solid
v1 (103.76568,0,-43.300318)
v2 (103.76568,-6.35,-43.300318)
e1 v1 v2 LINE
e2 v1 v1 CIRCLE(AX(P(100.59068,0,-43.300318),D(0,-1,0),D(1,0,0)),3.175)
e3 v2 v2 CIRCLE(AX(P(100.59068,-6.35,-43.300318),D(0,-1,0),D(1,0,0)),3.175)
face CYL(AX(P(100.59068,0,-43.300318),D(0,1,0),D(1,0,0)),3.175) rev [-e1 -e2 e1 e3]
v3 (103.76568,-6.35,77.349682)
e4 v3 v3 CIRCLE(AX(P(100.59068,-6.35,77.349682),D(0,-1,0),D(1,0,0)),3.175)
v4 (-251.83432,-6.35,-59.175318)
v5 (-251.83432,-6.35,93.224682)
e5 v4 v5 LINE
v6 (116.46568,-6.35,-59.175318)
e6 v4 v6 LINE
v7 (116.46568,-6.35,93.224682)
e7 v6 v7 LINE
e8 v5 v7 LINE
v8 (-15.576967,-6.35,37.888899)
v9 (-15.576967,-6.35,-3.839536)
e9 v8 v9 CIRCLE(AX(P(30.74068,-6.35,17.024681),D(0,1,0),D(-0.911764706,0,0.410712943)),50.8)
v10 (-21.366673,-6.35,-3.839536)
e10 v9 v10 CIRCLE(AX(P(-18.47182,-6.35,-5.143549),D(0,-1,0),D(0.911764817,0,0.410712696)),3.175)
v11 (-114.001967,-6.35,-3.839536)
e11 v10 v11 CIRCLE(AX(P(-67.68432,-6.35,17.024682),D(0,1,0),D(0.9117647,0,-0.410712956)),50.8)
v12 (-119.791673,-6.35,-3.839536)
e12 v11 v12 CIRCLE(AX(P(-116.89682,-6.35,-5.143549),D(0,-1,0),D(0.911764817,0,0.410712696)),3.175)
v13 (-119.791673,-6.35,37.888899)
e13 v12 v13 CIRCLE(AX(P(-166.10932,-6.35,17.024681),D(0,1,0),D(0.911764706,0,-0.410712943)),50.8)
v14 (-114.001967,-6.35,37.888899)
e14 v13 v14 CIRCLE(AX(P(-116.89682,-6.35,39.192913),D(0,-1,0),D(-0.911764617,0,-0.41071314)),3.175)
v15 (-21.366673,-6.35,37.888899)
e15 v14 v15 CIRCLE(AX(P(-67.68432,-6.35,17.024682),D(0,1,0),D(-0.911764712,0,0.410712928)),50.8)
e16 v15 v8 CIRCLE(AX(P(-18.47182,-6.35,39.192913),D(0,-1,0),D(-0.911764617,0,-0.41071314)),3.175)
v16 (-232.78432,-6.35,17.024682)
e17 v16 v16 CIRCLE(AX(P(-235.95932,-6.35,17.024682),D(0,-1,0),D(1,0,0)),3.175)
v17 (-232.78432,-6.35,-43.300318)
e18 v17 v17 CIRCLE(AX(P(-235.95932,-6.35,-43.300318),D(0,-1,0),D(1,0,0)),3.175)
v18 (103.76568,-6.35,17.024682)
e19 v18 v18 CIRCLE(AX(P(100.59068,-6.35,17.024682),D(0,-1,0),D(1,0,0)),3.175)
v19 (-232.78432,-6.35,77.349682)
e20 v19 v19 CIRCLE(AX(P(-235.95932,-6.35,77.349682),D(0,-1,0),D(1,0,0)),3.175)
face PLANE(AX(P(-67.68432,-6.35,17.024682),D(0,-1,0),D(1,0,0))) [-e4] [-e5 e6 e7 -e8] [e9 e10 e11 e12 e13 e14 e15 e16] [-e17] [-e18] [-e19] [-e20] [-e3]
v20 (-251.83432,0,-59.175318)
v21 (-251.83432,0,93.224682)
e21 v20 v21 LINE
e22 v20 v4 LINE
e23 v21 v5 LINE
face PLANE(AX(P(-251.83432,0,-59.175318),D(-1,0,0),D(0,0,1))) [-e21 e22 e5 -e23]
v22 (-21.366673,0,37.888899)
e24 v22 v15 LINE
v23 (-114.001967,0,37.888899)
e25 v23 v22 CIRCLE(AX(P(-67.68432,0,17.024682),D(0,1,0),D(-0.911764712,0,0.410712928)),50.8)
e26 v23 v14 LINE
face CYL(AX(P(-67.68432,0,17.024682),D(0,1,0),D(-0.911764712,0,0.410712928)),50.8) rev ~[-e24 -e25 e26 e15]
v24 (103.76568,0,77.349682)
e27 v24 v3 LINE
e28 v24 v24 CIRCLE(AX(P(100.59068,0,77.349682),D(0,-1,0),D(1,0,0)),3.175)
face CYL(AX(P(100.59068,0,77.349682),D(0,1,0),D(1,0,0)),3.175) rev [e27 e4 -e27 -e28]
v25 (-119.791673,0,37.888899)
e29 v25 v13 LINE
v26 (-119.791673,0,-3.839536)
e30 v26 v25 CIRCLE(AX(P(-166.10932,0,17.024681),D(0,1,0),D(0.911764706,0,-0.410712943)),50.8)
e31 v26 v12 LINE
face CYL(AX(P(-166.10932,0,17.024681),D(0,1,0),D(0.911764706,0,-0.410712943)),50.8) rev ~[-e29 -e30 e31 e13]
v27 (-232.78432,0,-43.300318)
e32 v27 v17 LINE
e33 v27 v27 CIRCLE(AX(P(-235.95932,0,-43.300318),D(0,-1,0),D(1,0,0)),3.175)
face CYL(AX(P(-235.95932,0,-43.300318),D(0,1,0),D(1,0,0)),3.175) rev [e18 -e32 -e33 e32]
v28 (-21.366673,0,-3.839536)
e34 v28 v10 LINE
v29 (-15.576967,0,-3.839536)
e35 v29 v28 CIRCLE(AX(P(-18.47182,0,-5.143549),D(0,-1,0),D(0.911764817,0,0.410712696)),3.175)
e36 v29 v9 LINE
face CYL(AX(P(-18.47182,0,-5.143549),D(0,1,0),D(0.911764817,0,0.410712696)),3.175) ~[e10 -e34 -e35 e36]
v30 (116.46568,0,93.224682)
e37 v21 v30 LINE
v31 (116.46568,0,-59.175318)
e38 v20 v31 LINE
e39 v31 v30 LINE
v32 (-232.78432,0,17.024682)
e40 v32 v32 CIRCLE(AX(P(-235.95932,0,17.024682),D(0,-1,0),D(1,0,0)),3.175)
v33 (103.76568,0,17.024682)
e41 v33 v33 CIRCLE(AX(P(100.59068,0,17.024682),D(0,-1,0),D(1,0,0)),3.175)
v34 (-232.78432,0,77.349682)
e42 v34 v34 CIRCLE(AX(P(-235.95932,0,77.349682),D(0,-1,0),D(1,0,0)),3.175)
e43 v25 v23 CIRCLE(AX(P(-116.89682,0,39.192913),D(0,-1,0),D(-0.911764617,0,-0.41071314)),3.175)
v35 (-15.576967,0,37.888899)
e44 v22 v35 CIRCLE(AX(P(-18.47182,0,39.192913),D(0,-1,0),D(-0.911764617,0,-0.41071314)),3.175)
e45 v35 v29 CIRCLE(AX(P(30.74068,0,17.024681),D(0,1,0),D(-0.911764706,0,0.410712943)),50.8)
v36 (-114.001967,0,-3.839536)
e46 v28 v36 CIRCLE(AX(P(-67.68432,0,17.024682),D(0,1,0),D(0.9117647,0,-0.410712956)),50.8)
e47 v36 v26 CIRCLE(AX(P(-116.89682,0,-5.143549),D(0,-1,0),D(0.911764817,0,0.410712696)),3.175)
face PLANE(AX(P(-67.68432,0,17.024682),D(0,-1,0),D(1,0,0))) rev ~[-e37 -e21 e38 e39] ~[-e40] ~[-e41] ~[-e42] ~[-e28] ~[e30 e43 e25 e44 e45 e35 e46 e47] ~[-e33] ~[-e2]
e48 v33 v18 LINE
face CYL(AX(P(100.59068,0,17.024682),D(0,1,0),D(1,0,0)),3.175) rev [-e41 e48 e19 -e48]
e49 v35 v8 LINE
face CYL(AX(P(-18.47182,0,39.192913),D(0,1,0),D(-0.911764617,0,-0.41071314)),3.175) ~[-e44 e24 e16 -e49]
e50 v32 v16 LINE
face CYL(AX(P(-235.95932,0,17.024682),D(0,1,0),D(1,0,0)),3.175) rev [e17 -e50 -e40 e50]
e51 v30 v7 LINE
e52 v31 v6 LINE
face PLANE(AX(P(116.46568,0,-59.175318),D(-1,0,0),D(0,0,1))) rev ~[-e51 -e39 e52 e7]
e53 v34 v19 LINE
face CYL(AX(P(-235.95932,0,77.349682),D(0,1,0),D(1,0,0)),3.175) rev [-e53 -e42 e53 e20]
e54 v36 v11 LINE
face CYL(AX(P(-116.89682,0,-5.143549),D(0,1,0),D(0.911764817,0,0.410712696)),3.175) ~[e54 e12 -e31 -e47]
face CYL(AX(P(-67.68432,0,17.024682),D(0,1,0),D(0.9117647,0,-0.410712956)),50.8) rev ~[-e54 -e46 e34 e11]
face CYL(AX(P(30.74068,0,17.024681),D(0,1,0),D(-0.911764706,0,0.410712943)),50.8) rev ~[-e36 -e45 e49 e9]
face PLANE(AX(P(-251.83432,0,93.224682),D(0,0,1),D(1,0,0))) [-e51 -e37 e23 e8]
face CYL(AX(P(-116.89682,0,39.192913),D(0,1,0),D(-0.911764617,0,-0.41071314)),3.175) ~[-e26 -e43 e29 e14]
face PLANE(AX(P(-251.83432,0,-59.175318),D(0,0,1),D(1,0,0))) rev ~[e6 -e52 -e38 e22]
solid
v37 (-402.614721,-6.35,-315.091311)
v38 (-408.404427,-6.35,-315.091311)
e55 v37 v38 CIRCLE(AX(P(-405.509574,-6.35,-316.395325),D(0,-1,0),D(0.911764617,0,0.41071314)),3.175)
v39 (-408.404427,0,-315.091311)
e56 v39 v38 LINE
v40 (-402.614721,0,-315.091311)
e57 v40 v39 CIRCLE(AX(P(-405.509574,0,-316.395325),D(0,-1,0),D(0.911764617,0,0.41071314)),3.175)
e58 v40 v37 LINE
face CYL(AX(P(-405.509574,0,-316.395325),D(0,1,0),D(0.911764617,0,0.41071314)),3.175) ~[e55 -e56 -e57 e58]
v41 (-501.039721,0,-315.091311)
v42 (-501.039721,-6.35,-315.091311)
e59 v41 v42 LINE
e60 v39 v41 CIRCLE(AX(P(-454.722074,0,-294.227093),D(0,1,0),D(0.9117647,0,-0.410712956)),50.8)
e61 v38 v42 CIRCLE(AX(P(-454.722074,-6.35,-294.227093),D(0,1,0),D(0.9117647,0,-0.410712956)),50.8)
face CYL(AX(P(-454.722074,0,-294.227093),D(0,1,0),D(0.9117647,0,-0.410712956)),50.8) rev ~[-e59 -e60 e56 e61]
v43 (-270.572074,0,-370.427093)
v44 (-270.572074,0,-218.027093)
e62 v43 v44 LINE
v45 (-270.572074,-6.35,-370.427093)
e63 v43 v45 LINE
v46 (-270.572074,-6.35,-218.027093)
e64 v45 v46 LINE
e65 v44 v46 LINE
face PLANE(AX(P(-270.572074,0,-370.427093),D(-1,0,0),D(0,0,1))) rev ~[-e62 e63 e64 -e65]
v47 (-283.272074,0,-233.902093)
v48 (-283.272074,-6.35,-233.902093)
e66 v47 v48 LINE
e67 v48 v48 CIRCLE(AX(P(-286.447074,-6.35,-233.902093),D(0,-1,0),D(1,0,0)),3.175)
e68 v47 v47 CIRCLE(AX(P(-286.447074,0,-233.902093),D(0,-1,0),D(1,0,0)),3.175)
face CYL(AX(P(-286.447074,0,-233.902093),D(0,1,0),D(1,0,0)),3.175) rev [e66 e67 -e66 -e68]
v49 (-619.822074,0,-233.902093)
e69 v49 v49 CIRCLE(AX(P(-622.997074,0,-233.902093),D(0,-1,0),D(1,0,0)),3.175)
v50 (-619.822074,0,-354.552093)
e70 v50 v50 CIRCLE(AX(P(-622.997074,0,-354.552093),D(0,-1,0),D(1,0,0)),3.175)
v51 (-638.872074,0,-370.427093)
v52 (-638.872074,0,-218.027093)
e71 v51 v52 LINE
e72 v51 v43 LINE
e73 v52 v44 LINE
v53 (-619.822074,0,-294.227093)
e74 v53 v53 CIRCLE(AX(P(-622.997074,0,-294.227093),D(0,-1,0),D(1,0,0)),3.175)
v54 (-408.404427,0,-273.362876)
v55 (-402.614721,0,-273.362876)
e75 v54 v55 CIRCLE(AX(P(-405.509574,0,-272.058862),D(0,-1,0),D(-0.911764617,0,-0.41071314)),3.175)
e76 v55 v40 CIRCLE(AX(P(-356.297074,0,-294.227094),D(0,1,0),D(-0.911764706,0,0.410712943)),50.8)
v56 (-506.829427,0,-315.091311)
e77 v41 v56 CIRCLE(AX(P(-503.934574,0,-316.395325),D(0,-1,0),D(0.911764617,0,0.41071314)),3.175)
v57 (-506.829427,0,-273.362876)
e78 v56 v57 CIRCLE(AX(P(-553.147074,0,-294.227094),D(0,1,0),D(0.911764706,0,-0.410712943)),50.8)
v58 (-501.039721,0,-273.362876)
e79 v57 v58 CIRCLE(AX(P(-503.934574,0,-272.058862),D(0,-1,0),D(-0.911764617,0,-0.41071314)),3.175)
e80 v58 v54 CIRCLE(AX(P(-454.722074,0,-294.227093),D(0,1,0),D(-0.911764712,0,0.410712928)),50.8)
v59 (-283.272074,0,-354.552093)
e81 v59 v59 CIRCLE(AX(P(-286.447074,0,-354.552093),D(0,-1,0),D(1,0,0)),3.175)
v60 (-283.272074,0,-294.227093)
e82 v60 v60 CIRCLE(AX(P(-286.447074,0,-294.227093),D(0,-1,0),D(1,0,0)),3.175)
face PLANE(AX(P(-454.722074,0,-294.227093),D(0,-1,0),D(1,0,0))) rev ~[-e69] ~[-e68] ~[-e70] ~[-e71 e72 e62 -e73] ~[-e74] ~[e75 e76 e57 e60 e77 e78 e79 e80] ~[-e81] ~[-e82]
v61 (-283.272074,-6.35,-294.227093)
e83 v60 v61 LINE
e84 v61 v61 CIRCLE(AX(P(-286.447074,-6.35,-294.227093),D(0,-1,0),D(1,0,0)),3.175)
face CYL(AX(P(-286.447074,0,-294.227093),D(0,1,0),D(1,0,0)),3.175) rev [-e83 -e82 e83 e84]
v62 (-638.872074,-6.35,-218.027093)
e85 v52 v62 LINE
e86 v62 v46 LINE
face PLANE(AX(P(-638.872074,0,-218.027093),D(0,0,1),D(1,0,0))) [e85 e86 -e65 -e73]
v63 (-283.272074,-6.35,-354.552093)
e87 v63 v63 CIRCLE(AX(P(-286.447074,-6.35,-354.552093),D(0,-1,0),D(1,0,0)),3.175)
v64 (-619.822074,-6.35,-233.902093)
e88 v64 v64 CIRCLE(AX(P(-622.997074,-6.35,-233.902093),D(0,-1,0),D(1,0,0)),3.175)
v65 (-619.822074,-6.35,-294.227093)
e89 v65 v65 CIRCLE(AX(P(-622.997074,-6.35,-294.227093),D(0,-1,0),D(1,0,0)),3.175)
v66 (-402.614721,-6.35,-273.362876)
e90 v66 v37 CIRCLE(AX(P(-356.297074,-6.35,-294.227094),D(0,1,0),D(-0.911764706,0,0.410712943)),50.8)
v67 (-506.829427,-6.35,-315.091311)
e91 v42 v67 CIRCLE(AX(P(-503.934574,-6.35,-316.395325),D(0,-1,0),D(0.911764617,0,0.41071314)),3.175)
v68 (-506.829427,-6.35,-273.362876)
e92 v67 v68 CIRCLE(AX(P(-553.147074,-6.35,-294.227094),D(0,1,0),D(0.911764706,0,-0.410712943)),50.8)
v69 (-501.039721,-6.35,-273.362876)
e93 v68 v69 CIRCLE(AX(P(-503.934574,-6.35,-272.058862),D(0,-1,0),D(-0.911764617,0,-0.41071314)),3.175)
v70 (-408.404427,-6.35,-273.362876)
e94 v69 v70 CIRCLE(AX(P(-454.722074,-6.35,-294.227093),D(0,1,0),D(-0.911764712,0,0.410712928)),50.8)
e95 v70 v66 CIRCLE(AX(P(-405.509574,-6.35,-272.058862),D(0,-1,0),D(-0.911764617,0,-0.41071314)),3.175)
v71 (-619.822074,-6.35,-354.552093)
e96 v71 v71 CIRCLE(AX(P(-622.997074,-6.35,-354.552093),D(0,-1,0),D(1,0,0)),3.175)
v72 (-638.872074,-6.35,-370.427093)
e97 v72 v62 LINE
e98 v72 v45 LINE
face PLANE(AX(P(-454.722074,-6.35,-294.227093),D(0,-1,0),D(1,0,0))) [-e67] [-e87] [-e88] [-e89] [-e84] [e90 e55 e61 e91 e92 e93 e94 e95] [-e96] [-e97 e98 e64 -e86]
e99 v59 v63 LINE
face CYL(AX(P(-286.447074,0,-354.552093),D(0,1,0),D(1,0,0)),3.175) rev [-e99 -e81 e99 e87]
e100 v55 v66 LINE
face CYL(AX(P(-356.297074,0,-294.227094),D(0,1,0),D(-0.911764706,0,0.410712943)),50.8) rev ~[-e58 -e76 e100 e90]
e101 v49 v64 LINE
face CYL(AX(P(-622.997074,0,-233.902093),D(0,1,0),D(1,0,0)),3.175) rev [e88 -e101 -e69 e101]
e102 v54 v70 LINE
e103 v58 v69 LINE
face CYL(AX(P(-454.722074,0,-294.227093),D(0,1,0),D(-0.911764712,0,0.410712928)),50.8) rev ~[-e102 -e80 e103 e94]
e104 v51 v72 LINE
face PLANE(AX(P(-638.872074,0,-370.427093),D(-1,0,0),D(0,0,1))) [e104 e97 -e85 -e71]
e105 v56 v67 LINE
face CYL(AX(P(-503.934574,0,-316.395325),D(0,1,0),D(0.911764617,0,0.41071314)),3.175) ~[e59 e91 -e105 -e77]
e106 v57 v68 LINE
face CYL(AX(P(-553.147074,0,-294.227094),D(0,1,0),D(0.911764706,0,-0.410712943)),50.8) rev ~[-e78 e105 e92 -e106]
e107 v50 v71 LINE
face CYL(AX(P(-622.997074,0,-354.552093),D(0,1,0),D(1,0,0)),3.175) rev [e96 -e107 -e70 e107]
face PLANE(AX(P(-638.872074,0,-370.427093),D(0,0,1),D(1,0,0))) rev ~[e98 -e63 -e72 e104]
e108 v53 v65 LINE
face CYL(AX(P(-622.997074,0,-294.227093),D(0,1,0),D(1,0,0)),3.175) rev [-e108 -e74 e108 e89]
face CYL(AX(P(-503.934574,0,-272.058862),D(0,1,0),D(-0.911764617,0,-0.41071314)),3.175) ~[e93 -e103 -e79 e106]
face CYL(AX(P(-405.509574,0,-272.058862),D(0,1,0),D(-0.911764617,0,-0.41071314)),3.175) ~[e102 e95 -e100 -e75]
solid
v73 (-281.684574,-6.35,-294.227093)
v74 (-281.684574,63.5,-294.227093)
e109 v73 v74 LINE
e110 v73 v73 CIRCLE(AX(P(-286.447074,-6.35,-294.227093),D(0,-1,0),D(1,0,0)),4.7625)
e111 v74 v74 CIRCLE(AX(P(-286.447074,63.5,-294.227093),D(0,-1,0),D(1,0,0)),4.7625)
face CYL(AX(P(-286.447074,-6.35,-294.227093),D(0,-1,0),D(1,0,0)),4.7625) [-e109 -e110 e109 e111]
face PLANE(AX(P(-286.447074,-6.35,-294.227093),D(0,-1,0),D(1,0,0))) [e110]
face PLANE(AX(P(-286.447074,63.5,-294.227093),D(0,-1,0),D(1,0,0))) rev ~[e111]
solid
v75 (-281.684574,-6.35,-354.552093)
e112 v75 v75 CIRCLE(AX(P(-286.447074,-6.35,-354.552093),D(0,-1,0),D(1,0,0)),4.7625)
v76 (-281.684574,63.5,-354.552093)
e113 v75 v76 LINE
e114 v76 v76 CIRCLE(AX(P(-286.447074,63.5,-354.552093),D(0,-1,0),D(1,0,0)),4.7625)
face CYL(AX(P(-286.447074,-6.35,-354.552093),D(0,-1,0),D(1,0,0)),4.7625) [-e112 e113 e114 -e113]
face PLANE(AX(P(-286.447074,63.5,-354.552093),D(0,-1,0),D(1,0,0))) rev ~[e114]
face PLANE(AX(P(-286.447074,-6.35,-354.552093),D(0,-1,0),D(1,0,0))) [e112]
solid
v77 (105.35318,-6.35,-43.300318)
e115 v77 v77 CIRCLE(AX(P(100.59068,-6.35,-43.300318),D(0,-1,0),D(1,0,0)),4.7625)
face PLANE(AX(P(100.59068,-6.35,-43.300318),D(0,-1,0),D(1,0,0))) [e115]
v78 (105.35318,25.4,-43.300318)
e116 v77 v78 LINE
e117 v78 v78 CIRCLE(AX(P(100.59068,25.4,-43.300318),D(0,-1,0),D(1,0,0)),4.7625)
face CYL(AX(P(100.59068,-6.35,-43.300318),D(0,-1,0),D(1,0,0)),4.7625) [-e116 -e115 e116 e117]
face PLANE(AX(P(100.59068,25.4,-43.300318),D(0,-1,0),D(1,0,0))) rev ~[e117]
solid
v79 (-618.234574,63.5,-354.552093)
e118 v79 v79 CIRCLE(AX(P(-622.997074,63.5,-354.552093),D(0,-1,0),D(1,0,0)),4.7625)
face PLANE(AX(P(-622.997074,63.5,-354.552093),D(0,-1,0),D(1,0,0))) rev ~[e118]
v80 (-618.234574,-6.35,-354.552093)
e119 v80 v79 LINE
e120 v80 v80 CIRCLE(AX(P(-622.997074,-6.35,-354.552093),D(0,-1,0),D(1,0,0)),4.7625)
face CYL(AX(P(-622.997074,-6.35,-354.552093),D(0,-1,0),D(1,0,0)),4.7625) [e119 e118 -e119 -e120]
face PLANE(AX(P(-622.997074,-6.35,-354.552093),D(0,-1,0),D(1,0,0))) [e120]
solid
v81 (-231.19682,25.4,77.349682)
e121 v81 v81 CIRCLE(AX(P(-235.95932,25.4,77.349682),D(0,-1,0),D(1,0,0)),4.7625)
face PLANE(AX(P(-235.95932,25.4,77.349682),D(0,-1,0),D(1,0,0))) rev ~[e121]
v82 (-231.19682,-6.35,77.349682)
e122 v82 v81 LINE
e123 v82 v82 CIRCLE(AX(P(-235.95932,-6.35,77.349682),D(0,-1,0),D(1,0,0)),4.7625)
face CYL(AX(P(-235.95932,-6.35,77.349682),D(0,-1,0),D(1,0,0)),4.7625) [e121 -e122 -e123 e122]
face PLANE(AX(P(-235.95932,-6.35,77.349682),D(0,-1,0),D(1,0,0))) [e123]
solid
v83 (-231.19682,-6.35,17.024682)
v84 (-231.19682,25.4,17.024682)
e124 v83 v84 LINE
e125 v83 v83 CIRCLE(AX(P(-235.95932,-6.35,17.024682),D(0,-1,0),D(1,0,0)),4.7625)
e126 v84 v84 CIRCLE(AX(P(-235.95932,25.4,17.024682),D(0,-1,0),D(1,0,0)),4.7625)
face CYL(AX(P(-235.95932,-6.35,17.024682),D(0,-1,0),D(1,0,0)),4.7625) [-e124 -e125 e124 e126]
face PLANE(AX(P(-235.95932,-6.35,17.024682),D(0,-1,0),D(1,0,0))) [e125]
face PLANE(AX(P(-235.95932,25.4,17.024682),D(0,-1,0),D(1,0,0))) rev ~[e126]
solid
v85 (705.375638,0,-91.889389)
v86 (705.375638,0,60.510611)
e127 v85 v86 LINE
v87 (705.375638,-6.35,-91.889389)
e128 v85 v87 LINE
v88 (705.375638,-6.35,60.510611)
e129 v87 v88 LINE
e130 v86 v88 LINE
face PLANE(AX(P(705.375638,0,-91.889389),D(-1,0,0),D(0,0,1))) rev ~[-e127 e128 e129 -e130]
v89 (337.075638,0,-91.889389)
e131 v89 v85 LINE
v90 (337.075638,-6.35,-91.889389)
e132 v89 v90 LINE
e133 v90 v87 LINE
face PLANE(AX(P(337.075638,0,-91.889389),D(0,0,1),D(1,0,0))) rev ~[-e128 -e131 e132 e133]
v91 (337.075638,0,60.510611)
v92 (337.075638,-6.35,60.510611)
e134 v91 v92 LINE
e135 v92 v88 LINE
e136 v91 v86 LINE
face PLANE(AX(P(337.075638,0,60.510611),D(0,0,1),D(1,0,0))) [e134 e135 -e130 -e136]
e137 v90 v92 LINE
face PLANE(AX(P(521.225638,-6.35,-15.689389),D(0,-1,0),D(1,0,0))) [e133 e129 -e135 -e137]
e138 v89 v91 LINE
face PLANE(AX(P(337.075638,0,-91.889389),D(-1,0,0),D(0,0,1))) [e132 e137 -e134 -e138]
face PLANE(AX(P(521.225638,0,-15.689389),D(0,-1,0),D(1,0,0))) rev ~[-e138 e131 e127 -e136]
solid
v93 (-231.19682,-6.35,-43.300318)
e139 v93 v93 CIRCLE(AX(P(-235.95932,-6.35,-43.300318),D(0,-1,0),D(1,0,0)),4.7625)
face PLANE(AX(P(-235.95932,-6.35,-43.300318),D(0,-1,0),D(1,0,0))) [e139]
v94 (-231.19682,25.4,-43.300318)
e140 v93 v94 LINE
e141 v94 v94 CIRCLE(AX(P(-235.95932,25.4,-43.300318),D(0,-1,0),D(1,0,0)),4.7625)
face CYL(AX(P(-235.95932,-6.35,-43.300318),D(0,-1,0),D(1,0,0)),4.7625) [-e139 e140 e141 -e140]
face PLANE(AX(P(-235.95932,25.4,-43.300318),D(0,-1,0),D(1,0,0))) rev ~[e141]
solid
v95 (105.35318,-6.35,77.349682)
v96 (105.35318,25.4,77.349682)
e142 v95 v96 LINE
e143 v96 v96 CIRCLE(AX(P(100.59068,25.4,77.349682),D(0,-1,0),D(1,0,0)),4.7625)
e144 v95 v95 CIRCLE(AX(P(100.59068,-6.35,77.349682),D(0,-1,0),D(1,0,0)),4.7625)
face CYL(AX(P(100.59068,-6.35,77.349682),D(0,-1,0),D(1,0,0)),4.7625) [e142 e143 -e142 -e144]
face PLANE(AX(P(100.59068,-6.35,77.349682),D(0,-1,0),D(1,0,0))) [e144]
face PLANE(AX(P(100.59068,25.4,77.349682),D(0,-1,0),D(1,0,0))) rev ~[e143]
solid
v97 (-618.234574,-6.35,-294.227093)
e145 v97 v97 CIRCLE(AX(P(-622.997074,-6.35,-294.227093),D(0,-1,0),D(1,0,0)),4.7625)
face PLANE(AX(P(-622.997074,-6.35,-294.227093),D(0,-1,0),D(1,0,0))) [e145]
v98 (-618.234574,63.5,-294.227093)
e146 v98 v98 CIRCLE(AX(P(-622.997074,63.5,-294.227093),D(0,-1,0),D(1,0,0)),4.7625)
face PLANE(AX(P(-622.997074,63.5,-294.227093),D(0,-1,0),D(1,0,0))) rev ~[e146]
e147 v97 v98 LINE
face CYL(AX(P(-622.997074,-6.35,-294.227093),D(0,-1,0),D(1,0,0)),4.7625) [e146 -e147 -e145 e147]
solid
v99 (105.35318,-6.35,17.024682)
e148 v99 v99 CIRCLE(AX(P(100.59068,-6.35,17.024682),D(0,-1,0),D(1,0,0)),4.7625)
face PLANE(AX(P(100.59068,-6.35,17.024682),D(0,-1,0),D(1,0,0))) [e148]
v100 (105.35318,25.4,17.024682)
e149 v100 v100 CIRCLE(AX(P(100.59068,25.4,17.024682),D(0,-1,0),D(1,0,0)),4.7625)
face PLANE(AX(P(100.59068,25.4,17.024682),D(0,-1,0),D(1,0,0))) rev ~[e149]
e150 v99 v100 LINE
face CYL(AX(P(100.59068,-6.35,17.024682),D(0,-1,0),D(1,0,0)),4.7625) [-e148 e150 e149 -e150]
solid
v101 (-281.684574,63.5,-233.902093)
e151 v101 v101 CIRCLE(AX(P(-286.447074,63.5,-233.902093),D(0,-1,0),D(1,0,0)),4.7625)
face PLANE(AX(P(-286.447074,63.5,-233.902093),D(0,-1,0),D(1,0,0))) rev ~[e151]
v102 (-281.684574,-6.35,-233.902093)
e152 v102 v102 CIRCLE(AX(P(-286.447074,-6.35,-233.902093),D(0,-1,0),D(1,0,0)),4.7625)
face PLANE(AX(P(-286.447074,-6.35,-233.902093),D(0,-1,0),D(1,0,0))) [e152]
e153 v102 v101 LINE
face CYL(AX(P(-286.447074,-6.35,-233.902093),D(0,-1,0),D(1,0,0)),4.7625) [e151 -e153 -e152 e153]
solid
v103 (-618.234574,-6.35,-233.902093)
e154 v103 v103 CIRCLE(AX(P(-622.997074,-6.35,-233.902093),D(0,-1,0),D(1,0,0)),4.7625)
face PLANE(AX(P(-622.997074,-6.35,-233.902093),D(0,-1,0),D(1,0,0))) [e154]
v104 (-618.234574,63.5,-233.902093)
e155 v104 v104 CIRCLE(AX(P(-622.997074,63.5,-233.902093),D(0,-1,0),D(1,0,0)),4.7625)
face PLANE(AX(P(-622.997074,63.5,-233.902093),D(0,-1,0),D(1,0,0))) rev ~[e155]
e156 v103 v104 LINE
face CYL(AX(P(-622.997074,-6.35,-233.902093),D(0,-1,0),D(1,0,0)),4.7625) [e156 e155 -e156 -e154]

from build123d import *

# Parameters (mm, degrees)
F0_W     = 368.3
F0_H     = 152.4
F0_R     = 3.175
F1_DEPTH = 6.35
F2_R     = 4.7625
F3_DEPTH = 31.75
F4_W     = 368.3
F4_H     = 152.4
F5_DEPTH = 6.35
F6_W     = 368.3
F6_H     = 152.4
F6_R     = 3.175
F7_DEPTH = 6.35
F8_R     = 4.7625
F9_DEPTH = 69.85


with BuildPart() as f1:
    # F0 (on Front) → F1 (new body)
    with BuildSketch(Plane.XZ):
        with Locations((-67.68432, 17.024682)):
            Rectangle(F0_W, F0_H)
        with Locations((-235.95932, -43.300318)):
            Circle(F0_R, mode=Mode.SUBTRACT)
        with Locations((100.59068, -43.300318)):
            Circle(F0_R, mode=Mode.SUBTRACT)
        with Locations((-235.95932, 17.024682)):
            Circle(F0_R, mode=Mode.SUBTRACT)
        with BuildLine():
            ThreePointArc((-21.366673, -3.839536), (-67.68432, -33.775318), (-114.001967, -3.839536))
            ThreePointArc((-114.001967, -3.839536), (-116.89682, -1.968549), (-119.791673, -3.839536))
            ThreePointArc((-119.791673, -3.839536), (-216.90932, 17.024682), (-119.791673, 37.888899))
            ThreePointArc((-119.791673, 37.888899), (-116.89682, 36.017913), (-114.001967, 37.888899))
            ThreePointArc((-114.001967, 37.888899), (-67.68432, 67.824682), (-21.366673, 37.888899))
            ThreePointArc((-21.366673, 37.888899), (-18.47182, 36.017913), (-15.576967, 37.888899))
            ThreePointArc((-15.576967, 37.888899), (81.54068, 17.024682), (-15.576967, -3.839536))
            ThreePointArc((-15.576967, -3.839536), (-18.47182, -1.968549), (-21.366673, -3.839536))
        make_face(mode=Mode.SUBTRACT)
        with Locations((-235.95932, 77.349682)):
            Circle(F0_R, mode=Mode.SUBTRACT)
        with Locations((100.59068, 17.024682)):
            Circle(F0_R, mode=Mode.SUBTRACT)
        with Locations((100.59068, 77.349682)):
            Circle(F0_R, mode=Mode.SUBTRACT)
    extrude(amount=F1_DEPTH)


with BuildPart() as f3:
    # F2 (on face) → F3 (new body)
    with BuildSketch(Plane.XZ.offset(6.35)):
        with Locations((-235.95932, 77.349682)):
            Circle(F2_R)
        with Locations((-235.95932, 17.024682)):
            Circle(F2_R)
        with Locations((-235.95932, -43.300318)):
            Circle(F2_R)
        with Locations((100.59068, 77.349682)):
            Circle(F2_R)
        with Locations((100.59068, 17.024682)):
            Circle(F2_R)
        with Locations((100.59068, -43.300318)):
            Circle(F2_R)
    extrude(amount=-F3_DEPTH)


with BuildPart() as f5:
    # F4 (on Front) → F5 (new body)
    with BuildSketch(Plane.XZ):
        with Locations((521.225638, -15.689389)):
            Rectangle(F4_W, F4_H)
    extrude(amount=F5_DEPTH)


with BuildPart() as f7:
    # F6 (on Front) → F7 (new body)
    with BuildSketch(Plane.XZ):
        with Locations((-454.722074, -294.227093)):
            Rectangle(F6_W, F6_H)
        with Locations((-622.997074, -354.552093)):
            Circle(F6_R, mode=Mode.SUBTRACT)
        with Locations((-622.997074, -294.227093)):
            Circle(F6_R, mode=Mode.SUBTRACT)
        with Locations((-286.447074, -354.552093)):
            Circle(F6_R, mode=Mode.SUBTRACT)
        with BuildLine():
            ThreePointArc((-408.404427, -315.091311), (-454.722074, -345.027093), (-501.039721, -315.091311))
            ThreePointArc((-501.039721, -315.091311), (-503.934574, -313.220325), (-506.829427, -315.091311))
            ThreePointArc((-506.829427, -315.091311), (-603.947074, -294.227093), (-506.829427, -273.362876))
            ThreePointArc((-506.829427, -273.362876), (-503.934574, -275.233862), (-501.039721, -273.362876))
            ThreePointArc((-501.039721, -273.362876), (-454.722074, -243.427093), (-408.404427, -273.362876))
            ThreePointArc((-408.404427, -273.362876), (-405.509574, -275.233862), (-402.614721, -273.362876))
            ThreePointArc((-402.614721, -273.362876), (-305.497074, -294.227093), (-402.614721, -315.091311))
            ThreePointArc((-402.614721, -315.091311), (-405.509574, -313.220325), (-408.404427, -315.091311))
        make_face(mode=Mode.SUBTRACT)
        with Locations((-622.997074, -233.902093)):
            Circle(F6_R, mode=Mode.SUBTRACT)
        with Locations((-286.447074, -294.227093)):
            Circle(F6_R, mode=Mode.SUBTRACT)
        with Locations((-286.447074, -233.902093)):
            Circle(F6_R, mode=Mode.SUBTRACT)
    extrude(amount=F7_DEPTH)


with BuildPart() as f9:
    # F8 (on face) → F9 (new body)
    with BuildSketch(Plane.XZ.offset(6.35)):
        with Locations((-622.997074, -233.902093)):
            Circle(F8_R)
        with Locations((-622.997074, -294.227093)):
            Circle(F8_R)
        with Locations((-622.997074, -354.552093)):
            Circle(F8_R)
        with Locations((-286.447074, -233.902093)):
            Circle(F8_R)
        with Locations((-286.447074, -294.227093)):
            Circle(F8_R)
        with Locations((-286.447074, -354.552093)):
            Circle(F8_R)
    extrude(amount=-F9_DEPTH)


solid = Compound([f1.part, f3.part, f5.part, f7.part, f9.part])
